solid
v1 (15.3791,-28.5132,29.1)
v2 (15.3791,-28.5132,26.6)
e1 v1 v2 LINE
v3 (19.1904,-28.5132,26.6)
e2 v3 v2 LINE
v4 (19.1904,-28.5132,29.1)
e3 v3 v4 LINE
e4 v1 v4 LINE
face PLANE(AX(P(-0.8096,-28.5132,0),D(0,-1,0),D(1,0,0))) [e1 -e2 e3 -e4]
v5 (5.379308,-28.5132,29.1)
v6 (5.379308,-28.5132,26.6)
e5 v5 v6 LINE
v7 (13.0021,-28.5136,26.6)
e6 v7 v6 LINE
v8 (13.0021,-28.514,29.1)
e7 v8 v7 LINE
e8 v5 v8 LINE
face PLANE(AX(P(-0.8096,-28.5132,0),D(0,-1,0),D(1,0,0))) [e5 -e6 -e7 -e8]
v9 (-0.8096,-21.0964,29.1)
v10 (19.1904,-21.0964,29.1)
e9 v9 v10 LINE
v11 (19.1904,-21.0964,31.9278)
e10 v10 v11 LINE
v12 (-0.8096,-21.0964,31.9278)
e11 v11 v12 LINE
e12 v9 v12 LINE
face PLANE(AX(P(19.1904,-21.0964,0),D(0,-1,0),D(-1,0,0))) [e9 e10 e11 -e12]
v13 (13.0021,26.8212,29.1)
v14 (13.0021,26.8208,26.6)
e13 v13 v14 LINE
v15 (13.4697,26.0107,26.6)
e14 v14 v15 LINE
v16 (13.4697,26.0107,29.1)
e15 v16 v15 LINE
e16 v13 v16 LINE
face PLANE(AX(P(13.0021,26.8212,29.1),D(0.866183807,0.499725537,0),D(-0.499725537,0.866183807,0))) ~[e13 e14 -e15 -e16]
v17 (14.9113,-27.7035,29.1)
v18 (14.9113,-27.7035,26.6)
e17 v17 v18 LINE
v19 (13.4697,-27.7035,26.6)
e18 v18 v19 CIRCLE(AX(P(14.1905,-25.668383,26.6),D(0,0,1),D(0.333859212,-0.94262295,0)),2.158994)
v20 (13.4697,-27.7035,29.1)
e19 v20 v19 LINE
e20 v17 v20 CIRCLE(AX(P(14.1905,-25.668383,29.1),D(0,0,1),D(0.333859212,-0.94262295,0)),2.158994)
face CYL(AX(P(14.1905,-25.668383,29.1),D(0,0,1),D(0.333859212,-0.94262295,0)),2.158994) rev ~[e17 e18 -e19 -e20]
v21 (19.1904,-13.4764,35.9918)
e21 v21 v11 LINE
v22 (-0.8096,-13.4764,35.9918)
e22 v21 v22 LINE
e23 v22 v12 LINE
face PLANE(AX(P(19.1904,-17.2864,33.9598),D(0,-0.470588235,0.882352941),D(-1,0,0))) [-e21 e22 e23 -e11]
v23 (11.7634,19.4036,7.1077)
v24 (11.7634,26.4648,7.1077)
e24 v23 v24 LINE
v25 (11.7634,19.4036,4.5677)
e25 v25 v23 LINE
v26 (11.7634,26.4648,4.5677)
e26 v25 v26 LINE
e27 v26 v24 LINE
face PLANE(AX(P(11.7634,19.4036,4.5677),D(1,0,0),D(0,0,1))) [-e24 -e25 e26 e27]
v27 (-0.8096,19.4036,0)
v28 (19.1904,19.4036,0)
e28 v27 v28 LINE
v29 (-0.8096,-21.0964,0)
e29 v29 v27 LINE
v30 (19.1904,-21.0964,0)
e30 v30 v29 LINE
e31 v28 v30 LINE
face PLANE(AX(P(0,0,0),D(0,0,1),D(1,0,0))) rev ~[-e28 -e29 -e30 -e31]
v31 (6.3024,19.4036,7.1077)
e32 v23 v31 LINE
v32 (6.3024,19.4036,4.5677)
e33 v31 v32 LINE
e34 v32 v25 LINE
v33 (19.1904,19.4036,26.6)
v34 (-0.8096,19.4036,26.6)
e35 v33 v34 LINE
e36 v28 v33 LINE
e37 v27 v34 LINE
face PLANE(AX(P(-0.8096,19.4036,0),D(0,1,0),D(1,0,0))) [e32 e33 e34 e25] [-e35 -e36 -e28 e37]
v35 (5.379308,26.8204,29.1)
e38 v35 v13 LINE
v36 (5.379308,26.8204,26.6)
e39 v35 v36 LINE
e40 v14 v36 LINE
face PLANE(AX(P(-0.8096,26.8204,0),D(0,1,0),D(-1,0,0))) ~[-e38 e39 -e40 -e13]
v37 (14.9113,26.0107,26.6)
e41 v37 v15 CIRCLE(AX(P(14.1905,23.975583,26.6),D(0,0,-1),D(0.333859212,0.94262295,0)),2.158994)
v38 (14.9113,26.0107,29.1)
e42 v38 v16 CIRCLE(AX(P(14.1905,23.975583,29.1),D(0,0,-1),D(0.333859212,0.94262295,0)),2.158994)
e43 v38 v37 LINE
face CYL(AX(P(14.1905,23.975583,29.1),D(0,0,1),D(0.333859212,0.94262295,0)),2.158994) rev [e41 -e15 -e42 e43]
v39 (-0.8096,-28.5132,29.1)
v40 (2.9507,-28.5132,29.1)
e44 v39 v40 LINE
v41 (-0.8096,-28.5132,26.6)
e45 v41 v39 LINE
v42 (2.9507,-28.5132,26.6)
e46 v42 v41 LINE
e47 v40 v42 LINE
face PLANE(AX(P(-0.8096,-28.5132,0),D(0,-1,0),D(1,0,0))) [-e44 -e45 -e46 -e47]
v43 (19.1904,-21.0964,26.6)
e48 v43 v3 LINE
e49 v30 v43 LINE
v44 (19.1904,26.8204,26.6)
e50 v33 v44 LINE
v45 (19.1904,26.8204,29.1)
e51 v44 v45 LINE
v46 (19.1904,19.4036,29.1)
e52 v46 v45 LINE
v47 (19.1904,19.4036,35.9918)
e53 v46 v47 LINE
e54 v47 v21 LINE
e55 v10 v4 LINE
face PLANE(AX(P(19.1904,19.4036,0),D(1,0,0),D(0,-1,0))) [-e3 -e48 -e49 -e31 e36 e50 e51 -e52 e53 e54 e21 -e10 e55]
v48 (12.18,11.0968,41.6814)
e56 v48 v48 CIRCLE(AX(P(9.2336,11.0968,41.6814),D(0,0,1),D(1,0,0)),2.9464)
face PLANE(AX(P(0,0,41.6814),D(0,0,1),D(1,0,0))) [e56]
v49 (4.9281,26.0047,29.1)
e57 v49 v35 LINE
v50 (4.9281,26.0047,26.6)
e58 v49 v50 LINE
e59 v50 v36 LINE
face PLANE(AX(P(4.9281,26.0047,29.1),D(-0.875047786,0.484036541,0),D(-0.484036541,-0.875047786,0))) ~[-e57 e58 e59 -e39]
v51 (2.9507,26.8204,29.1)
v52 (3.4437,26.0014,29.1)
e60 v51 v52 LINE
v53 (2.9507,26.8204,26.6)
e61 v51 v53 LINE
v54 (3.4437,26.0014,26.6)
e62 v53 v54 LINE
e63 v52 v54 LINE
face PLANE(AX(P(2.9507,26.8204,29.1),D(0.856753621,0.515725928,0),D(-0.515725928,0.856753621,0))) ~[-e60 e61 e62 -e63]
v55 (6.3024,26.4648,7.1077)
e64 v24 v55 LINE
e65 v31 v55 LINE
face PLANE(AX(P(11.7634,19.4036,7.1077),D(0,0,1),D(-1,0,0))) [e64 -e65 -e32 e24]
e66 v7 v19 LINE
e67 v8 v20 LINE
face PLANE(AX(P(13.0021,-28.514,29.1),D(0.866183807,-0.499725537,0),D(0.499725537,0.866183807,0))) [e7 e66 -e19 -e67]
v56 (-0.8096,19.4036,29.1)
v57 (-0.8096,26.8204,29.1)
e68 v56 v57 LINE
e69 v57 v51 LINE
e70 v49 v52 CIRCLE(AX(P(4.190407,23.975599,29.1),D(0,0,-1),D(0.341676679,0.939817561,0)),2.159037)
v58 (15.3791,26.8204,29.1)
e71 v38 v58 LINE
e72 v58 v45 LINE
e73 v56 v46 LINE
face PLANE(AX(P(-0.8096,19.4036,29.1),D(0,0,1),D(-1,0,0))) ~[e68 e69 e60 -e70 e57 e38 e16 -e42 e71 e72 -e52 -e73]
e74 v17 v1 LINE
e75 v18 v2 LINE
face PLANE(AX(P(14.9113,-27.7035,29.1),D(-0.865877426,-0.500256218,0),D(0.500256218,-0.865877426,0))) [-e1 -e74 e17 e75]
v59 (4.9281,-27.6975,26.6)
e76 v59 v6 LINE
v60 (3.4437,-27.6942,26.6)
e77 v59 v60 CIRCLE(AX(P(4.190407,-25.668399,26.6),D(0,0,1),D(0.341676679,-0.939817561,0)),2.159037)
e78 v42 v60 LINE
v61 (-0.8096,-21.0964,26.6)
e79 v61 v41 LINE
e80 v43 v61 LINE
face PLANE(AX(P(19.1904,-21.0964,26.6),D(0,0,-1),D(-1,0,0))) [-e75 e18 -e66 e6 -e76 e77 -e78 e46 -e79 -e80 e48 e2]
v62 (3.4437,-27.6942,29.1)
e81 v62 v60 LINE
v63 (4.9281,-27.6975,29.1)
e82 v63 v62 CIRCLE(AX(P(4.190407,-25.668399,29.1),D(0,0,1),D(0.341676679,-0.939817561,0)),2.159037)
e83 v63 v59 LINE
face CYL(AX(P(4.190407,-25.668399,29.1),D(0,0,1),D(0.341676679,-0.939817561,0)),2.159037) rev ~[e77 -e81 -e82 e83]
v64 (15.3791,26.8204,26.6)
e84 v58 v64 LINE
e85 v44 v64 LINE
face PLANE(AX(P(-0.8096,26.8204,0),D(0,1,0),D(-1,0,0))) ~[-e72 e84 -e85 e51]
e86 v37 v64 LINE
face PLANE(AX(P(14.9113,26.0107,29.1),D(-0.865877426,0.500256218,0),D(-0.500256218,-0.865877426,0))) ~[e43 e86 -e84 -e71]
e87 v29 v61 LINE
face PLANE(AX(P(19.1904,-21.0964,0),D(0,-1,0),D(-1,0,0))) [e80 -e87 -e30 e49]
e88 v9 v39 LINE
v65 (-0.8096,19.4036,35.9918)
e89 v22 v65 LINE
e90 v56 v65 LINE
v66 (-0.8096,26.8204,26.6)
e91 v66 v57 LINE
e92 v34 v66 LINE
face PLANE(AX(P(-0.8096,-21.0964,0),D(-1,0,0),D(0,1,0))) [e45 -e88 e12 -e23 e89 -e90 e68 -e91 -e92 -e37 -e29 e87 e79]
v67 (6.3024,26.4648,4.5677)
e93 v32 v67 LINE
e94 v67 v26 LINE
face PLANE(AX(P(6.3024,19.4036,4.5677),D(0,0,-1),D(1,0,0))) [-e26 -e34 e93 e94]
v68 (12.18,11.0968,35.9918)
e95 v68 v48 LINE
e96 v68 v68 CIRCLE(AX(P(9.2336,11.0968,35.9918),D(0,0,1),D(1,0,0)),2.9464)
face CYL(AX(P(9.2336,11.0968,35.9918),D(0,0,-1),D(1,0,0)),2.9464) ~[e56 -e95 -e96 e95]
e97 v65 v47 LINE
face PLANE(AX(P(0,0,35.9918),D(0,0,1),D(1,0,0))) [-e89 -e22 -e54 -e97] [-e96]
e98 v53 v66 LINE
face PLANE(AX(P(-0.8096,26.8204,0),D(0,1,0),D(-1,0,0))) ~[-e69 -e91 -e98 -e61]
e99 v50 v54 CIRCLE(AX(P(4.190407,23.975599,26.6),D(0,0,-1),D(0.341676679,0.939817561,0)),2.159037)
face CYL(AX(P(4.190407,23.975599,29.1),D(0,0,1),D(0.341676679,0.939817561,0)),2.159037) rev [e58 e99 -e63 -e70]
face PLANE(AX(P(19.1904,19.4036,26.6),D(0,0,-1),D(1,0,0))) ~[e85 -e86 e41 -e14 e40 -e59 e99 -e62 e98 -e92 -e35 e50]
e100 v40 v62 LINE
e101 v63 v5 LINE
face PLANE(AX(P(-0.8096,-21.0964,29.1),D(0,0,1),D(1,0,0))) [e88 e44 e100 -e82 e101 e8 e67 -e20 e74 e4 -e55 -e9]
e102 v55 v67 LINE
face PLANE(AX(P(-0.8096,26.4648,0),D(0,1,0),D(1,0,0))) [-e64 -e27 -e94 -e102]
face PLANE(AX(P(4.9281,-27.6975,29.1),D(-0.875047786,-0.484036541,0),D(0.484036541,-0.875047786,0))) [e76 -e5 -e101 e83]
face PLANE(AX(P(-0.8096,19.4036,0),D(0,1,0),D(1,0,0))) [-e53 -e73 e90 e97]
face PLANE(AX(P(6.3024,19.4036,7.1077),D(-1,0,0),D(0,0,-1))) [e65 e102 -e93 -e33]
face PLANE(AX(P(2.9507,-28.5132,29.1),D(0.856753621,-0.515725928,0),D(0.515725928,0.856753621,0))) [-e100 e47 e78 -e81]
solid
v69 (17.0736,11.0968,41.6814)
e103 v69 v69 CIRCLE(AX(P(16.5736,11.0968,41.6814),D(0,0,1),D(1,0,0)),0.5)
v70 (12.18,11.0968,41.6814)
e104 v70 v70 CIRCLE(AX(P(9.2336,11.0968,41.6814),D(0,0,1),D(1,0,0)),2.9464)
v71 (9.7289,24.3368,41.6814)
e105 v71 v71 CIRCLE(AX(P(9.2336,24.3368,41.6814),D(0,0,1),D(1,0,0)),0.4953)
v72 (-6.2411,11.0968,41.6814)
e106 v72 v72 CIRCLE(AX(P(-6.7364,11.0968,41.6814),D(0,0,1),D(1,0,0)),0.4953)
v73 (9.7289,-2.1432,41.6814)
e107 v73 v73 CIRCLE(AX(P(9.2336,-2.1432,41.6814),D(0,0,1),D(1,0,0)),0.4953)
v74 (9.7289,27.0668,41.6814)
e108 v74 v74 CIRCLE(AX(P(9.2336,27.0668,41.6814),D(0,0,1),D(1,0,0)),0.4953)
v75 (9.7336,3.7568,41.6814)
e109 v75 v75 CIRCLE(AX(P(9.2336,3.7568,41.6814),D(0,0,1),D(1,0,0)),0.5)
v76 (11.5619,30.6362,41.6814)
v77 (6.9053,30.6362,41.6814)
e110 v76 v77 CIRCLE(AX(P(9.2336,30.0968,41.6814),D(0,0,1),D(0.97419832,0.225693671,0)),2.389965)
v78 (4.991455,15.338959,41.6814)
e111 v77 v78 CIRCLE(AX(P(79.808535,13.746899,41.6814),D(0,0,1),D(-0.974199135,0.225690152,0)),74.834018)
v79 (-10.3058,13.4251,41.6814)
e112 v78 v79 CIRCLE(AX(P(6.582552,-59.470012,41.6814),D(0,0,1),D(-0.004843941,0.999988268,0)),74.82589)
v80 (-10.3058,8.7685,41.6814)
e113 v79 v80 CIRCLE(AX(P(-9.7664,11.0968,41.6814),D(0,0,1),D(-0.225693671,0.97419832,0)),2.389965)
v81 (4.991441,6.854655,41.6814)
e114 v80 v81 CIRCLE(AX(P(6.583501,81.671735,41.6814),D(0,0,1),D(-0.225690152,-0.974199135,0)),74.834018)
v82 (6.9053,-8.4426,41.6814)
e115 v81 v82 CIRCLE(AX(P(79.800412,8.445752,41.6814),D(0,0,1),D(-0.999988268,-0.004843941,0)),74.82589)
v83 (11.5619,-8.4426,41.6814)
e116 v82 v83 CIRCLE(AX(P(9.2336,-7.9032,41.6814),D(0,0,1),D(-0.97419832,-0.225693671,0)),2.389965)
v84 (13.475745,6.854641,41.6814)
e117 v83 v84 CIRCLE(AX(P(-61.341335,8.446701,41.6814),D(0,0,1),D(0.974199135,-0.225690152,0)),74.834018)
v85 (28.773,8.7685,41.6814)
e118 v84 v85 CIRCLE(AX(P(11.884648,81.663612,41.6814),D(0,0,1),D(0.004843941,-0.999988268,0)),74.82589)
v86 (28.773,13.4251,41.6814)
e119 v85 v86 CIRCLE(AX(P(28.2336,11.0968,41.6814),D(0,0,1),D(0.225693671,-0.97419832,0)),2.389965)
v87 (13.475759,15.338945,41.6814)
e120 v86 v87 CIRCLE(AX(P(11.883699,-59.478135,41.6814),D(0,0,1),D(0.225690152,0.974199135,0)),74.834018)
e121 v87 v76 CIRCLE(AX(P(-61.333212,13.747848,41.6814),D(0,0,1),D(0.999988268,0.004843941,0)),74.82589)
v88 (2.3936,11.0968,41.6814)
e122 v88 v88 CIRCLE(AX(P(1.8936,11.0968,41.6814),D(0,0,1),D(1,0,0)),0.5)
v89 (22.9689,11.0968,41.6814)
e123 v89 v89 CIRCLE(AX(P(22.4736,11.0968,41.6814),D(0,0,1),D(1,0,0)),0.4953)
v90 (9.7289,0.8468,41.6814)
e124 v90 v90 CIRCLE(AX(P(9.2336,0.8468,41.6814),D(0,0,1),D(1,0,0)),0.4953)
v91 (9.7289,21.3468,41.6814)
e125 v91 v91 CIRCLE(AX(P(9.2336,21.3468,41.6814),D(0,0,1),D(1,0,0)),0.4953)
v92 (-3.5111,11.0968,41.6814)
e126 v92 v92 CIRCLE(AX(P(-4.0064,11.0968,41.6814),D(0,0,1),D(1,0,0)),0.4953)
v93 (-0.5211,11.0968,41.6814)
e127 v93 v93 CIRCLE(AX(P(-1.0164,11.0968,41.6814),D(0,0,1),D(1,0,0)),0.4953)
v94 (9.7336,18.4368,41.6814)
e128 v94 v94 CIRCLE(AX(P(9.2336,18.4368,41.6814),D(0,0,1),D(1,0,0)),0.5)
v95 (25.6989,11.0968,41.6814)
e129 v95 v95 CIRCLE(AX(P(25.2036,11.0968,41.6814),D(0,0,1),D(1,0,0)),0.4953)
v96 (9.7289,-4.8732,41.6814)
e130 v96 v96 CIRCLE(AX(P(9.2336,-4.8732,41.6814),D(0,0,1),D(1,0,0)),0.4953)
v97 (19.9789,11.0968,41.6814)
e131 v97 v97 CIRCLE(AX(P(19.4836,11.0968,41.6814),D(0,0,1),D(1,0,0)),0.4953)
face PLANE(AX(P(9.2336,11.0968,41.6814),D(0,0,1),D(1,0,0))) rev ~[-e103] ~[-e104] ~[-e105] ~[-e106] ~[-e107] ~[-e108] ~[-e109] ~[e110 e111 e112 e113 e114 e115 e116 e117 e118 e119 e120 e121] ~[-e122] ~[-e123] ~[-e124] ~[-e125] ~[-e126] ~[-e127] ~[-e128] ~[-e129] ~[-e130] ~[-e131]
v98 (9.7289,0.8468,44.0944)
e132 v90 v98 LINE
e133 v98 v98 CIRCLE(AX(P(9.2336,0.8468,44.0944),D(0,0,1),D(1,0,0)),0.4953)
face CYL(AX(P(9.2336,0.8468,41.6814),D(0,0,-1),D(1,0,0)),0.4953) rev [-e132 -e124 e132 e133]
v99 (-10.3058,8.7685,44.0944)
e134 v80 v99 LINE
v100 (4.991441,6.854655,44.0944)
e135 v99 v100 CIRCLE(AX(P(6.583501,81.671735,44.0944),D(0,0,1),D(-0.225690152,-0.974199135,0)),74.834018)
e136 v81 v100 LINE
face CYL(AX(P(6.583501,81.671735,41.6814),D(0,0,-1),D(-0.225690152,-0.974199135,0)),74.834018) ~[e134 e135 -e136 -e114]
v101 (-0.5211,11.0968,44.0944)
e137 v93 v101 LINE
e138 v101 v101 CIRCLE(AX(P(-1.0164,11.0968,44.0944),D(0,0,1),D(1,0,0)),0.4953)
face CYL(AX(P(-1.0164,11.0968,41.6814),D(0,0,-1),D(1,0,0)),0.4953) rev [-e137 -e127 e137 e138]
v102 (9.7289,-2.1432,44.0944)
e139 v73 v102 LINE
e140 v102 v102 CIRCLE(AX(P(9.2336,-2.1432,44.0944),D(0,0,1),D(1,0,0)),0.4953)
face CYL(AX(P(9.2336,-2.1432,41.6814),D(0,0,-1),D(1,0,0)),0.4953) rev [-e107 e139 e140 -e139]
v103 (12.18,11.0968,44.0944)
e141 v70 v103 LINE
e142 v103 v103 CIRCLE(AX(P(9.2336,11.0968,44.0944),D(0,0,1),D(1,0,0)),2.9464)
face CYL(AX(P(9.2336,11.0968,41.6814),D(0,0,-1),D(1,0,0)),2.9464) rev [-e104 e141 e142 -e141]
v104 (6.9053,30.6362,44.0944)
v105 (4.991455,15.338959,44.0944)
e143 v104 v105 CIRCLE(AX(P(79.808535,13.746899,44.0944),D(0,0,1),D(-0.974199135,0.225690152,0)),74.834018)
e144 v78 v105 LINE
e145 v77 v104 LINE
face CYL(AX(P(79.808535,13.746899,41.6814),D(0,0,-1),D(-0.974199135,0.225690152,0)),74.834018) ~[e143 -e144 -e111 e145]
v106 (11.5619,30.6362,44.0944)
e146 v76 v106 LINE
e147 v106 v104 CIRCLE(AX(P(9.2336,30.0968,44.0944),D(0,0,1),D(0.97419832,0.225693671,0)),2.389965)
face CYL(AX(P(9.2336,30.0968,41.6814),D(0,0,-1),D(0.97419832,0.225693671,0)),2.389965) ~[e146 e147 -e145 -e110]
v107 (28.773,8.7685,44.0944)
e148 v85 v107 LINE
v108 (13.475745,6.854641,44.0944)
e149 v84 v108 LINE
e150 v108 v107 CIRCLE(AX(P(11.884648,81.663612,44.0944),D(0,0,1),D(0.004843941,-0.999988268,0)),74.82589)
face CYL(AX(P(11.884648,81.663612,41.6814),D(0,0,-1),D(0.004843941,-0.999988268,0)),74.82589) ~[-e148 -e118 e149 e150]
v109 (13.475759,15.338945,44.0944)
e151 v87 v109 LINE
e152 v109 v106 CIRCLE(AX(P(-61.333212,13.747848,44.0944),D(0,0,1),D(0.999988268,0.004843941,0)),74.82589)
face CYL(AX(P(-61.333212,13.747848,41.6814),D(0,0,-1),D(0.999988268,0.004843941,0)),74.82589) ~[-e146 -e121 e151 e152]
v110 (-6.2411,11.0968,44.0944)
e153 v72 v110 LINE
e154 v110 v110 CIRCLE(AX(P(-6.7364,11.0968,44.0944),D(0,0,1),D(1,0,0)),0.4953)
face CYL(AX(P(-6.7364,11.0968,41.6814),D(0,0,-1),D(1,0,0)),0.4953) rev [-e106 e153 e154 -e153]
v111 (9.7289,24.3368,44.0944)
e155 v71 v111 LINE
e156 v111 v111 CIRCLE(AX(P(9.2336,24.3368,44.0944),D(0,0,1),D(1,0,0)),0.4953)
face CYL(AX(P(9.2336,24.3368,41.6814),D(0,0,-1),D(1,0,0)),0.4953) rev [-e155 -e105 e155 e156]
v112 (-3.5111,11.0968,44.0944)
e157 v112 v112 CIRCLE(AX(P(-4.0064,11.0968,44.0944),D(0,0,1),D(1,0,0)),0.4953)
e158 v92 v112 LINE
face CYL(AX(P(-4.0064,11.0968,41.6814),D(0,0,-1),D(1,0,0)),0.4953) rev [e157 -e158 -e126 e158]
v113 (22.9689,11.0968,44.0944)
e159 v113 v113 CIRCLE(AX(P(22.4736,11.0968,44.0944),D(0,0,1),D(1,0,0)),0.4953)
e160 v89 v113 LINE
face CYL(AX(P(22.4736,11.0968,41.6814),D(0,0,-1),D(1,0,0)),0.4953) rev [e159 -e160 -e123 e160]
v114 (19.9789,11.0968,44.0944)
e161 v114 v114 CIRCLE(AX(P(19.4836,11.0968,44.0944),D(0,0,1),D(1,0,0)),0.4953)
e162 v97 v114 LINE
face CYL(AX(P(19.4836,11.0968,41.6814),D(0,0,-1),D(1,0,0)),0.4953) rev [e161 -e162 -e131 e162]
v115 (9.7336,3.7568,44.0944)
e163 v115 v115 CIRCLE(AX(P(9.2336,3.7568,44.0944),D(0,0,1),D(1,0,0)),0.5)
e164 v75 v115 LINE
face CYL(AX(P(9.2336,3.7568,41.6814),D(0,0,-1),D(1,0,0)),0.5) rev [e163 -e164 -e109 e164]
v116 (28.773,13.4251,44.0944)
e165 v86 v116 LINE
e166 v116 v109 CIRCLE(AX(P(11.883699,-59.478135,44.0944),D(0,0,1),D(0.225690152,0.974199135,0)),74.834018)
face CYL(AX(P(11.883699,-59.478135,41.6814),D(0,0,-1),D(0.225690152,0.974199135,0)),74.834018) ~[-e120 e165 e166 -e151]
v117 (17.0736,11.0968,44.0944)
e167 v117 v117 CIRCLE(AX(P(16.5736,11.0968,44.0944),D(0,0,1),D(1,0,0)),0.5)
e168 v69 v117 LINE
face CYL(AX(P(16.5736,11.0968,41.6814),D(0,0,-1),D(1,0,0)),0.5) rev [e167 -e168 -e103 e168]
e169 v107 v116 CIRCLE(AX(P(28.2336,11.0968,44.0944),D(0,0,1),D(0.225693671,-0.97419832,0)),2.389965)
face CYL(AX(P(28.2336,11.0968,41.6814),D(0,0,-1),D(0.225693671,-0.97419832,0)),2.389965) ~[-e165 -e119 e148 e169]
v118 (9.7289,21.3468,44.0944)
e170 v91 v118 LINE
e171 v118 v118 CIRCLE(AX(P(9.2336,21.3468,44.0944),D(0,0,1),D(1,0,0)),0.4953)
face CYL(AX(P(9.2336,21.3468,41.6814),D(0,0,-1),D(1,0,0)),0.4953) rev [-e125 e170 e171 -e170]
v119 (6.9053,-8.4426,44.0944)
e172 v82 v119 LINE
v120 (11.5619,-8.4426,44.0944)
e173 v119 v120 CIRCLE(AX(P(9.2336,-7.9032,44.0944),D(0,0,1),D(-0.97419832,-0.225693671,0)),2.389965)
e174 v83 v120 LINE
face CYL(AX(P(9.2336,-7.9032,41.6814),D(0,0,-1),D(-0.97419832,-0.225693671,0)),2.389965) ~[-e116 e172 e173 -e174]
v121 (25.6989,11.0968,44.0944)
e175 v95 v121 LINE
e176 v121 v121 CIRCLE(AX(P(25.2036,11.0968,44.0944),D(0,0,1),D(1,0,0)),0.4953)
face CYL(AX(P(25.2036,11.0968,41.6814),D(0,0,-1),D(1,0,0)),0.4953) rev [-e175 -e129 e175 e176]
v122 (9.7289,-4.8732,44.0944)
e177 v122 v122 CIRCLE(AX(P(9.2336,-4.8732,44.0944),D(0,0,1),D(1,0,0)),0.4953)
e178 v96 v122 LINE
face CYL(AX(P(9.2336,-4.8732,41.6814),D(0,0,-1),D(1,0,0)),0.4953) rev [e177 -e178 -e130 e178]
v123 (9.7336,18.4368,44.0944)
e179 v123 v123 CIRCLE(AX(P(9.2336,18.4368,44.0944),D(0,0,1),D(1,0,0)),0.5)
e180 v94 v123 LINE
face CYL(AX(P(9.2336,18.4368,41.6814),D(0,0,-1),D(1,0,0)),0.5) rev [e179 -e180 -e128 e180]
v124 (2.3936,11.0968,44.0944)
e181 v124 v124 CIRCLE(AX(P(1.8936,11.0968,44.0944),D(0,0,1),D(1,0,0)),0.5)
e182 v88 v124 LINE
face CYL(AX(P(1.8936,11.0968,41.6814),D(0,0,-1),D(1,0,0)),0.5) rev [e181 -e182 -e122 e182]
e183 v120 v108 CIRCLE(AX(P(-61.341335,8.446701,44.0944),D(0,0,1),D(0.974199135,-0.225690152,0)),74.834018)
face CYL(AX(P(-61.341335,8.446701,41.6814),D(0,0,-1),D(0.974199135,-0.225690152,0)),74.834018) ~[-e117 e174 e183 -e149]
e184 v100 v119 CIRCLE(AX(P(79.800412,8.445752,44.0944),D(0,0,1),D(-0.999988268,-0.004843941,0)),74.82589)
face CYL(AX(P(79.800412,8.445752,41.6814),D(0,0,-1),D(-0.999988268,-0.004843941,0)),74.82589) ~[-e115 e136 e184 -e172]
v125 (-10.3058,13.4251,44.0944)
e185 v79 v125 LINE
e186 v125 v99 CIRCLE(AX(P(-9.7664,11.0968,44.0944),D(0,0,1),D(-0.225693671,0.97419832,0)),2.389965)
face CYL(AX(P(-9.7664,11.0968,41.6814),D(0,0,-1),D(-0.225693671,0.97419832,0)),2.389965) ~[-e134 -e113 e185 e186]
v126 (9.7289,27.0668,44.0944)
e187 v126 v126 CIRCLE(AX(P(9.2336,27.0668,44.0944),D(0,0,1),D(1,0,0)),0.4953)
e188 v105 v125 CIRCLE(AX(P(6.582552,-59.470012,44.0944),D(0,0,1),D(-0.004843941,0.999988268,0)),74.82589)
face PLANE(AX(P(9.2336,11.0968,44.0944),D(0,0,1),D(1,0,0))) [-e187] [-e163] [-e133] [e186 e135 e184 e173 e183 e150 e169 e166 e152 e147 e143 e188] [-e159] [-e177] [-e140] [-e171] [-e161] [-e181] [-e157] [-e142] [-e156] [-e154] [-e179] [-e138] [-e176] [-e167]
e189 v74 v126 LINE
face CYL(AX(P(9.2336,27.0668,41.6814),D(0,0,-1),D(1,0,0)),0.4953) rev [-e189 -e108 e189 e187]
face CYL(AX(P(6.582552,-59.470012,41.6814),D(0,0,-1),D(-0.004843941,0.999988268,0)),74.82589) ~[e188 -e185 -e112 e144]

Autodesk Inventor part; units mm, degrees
ref_plane "YZ Plane" through (0, 0, 0) normal (1, 0, 0) x (0, 1, 0)
ref_plane "XZ Plane" through (0, 0, 0) normal (0, 1, 0) x (-1, 0, 0)
ref_plane "XY Plane" through (0, 0, 0) normal (0, 0, 1) x (1, 0, 0)
sketch "Sketch1" plane through (0, 0, 0) normal (0, 0, 1) x (1, 0, 0)
  line L0 (-0.8096, 19.4036) -> (19.1904, 19.4036)
  line L1 (19.1904, 19.4036) -> (19.1904, -21.0964)
  line L2 (19.1904, -21.0964) -> (-0.8096, -21.0964)
  line L3 (-0.8096, -21.0964) -> (-0.8096, 19.4036)
  point P0 (0, 0)
  dimension "d0" = 40.5
  dimension "d1" = 20
extrude "Extrusion1" add sketch "Sketch1" along normal blind 35.9918
sketch "Sketch2" plane through (0, 0, 35.9918) normal (0, 0, 1) x (1, 0, 0)
  circle A0 centre (9.2336, 11.0968) radius 2.9464
  point P0 (0, 0)
  point P1 (-0.8096, -21.0964)
  point P2 (19.1904, -21.0964)
  dimension "d5" = 5.8928
extrude "Extrusion2" add sketch "Sketch2" along normal blind 5.6896
sketch "Sketch3" plane through (-0.8096, -21.0964, 0) normal (0, -1, 0) x (1, 0, 0)
  line L0 (0, 0) -> (0, 35.9918) projected
  line L1 (20, 0) -> (20, 35.9918) projected
  line L2 (0, 29.1) -> (20, 29.1)
  line L3 (20, 29.1) -> (20, 26.6)
  line L4 (20, 26.6) -> (0, 26.6)
  line L5 (0, 26.6) -> (0, 29.1)
  point P0 (0.8096, 0)
  dimension "d9" = 2.5
  dimension "d48" = 26.6
extrude "Extrusion3" add sketch "Sketch3" along normal blind 7.4168
ref_plane "Work Plane1" through (-0.8096, -0.8464, 35.9918) normal (0, 1, 0) x (1, 0, 0)
sketch "Sketch5" plane through (-0.8096, -21.0964, 29.1) normal (0, 0, 1) x (1, 0, 0)
  arc A0 (5.7377, -6.6011) -> (4.2533, -6.5978) centre (5, -4.572) ccw
  line L0 (0, 0) -> (20, 0) construction
  arc A1 (15.7209, -6.6071) -> (14.2793, -6.6071) centre (15, -4.572) ccw
  line L1 (10, -7.4168) -> (10, 0) construction
  line L2 (20, -7.4168) -> (0, -7.4168) projected
  line L3 (3.7603, -7.4168) -> (4.2533, -6.5978)
  line L4 (5.7377, -6.6011) -> (6.2138, -7.4618)
  line L5 (6.2138, -7.4618) -> (3.7603, -7.4168)
  line L6 (16.1887, -7.4168) -> (13.8117, -7.4176)
  line L7 (13.8117, -7.4176) -> (14.2793, -6.6071)
  line L8 (15.7209, -6.6071) -> (16.1887, -7.4168)
  point P0 (0.8096, 21.0964)
  point P1 (5, -6.731)
  point P2 (15, -6.731)
  dimension "d12" = 4.318
  dimension "d13" = 4.572
  dimension "d15" = 4.318
  dimension "d17" = 5
  dimension "d18" = 5
  dimension "d47" = 10
extrude "Extrusion4" cut sketch "Sketch5" against normal up to next
mirror "Mirror1" about plane through (-0.8096, -0.8464, 35.9918) normal (0, 1, 0) of "Extrusion3", "Extrusion4"
chamfer "Chamfer1" distance 7.62 distance2 4.064 1 edges at (9.1904, -21.0964, 35.9918) measured on face at (9.0864, -11.3403, 35.9918)
sketch "Sketch6" plane through (-0.8096, 19.4036, 0) normal (0, 1, 0) x (1, 0, 0)
  line L0 (12.573, -7.1077) -> (7.112, -7.1077)
  line L1 (7.112, -7.1077) -> (7.112, -4.5677)
  line L2 (7.112, -4.5677) -> (12.573, -4.5677)
  line L3 (12.573, -4.5677) -> (12.573, -7.1077)
  line L4 (0, 0) -> (0, -26.6) projected
  point P0 (0.8096, 0)
  dimension "d24" = 5.461
  dimension "d25" = 2.54
  dimension "d26" = 7.112
extrude "Extrusion5" add sketch "Sketch6" along normal blind 7.0612
sketch "Sketch7" plane through (9.2336, 11.0968, 41.6814) normal (0, 0, 1) x (1, 0, 0)
  circle A0 centre (0, 0) radius 4.2
  line L0 (-4.2582, 3.0135) -> (-4.2, 0.014)
  circle A1 centre (0, 0) radius 2.9464 projected
  line L1 (0, 0) -> (0, 19) construction
  arc A2 (-2.3283, 19.5394) -> (-4.2582, 3.0135) centre (70.5709, 2.6508) ccw
  line L2 (4.2582, 3.0135) -> (4.2, 0.014)
  arc A3 (2.3283, 19.5394) -> (-2.3283, 19.5394) centre (0, 19) ccw
  arc A4 (4.2582, 3.0135) -> (2.3283, 19.5394) centre (-70.5709, 2.6508) ccw
  circle A5 centre (0, 7.34) radius 0.5
  circle A6 centre (0, 10.25) radius 0.4953
  circle A7 centre (0, 13.24) radius 0.4953
  circle A8 centre (0, 15.97) radius 0.4953
  arc A9 (-19.5394, 2.3283) -> (-19.5394, -2.3283) centre (-19, 0) ccw
  arc A10 (-19.5394, -2.3283) -> (-3.0135, -4.2582) centre (-2.6508, 70.5709) ccw
  arc A11 (-3.0135, 4.2582) -> (-19.5394, 2.3283) centre (-2.6508, -70.5709) ccw
  circle A12 centre (-15.97, 0) radius 0.4953
  circle A13 centre (-13.24, 0) radius 0.4953
  circle A14 centre (-10.25, 0) radius 0.4953
  circle A15 centre (-7.34, 0) radius 0.5
  line L3 (-3.0135, -4.2582) -> (-0.014, -4.2)
  line L4 (-3.0135, 4.2582) -> (-0.014, 4.2)
  circle A16 centre (0, 0) radius 4.2
  arc A17 (-2.3283, -19.5394) -> (2.3283, -19.5394) centre (0, -19) ccw
  arc A18 (2.3283, -19.5394) -> (4.2582, -3.0135) centre (-70.5709, -2.6508) ccw
  arc A19 (-4.2582, -3.0135) -> (-2.3283, -19.5394) centre (70.5709, -2.6508) ccw
  circle A20 centre (0, -15.97) radius 0.4953
  circle A21 centre (0, -13.24) radius 0.4953
  circle A22 centre (0, -10.25) radius 0.4953
  circle A23 centre (0, -7.34) radius 0.5
  line L5 (4.2582, -3.0135) -> (4.2, -0.014)
  line L6 (-4.2582, -3.0135) -> (-4.2, -0.014)
  circle A24 centre (0, 0) radius 4.2
  arc A25 (19.5394, -2.3283) -> (19.5394, 2.3283) centre (19, 0) ccw
  arc A26 (19.5394, 2.3283) -> (3.0135, 4.2582) centre (2.6508, -70.5709) ccw
  arc A27 (3.0135, -4.2582) -> (19.5394, -2.3283) centre (2.6508, 70.5709) ccw
  circle A28 centre (15.97, 0) radius 0.4953
  circle A29 centre (13.24, 0) radius 0.4953
  circle A30 centre (10.25, 0) radius 0.4953
  circle A31 centre (7.34, 0) radius 0.5
  line L7 (3.0135, 4.2582) -> (0.014, 4.2)
  line L8 (3.0135, -4.2582) -> (0.014, -4.2)
  circle A32 centre (0, 0) radius 4.2
  point P0 (-9.2336, -11.0968)
  dimension "d29" = 19
  dimension "d31" = 8.4
  dimension "d33" = 1
  dimension "d34" = 7.34
  dimension "d35" = 0.9906
  dimension "d36" = 10.25
  dimension "d37" = 0.9906
  dimension "d38" = 13.24
  dimension "d39" = 0.9906
  dimension "d40" = 15.97
  dimension "d43" = 360
extrude "Extrusion6" add sketch "Sketch7" along normal blind 2.413
sketch "Sketch9" plane through (-0.8096, 19.4036, 29.1) normal (0, 0, 1) x (1, 0, 0)
  line L0 (20, 0) -> (20, -40.5) projected
  arc A0 (14.2793, 6.6071) -> (15.7209, 6.6071) centre (15, 4.572) ccw projected
  line L1 (15, 4.572) -> (15, 0) construction
  line L2 (0, 0) -> (20, 0) projected
  arc A1 (15.7209, -47.1071) -> (14.2793, -47.1071) centre (15, -45.072) ccw projected
  line L3 (15, -45.072) -> (15, -40.5)
  point P0 (0.8096, -19.4036)
  dimension "d49" = 4.572
  dimension "d50" = 4.572
properties part number "Hew Motor"
